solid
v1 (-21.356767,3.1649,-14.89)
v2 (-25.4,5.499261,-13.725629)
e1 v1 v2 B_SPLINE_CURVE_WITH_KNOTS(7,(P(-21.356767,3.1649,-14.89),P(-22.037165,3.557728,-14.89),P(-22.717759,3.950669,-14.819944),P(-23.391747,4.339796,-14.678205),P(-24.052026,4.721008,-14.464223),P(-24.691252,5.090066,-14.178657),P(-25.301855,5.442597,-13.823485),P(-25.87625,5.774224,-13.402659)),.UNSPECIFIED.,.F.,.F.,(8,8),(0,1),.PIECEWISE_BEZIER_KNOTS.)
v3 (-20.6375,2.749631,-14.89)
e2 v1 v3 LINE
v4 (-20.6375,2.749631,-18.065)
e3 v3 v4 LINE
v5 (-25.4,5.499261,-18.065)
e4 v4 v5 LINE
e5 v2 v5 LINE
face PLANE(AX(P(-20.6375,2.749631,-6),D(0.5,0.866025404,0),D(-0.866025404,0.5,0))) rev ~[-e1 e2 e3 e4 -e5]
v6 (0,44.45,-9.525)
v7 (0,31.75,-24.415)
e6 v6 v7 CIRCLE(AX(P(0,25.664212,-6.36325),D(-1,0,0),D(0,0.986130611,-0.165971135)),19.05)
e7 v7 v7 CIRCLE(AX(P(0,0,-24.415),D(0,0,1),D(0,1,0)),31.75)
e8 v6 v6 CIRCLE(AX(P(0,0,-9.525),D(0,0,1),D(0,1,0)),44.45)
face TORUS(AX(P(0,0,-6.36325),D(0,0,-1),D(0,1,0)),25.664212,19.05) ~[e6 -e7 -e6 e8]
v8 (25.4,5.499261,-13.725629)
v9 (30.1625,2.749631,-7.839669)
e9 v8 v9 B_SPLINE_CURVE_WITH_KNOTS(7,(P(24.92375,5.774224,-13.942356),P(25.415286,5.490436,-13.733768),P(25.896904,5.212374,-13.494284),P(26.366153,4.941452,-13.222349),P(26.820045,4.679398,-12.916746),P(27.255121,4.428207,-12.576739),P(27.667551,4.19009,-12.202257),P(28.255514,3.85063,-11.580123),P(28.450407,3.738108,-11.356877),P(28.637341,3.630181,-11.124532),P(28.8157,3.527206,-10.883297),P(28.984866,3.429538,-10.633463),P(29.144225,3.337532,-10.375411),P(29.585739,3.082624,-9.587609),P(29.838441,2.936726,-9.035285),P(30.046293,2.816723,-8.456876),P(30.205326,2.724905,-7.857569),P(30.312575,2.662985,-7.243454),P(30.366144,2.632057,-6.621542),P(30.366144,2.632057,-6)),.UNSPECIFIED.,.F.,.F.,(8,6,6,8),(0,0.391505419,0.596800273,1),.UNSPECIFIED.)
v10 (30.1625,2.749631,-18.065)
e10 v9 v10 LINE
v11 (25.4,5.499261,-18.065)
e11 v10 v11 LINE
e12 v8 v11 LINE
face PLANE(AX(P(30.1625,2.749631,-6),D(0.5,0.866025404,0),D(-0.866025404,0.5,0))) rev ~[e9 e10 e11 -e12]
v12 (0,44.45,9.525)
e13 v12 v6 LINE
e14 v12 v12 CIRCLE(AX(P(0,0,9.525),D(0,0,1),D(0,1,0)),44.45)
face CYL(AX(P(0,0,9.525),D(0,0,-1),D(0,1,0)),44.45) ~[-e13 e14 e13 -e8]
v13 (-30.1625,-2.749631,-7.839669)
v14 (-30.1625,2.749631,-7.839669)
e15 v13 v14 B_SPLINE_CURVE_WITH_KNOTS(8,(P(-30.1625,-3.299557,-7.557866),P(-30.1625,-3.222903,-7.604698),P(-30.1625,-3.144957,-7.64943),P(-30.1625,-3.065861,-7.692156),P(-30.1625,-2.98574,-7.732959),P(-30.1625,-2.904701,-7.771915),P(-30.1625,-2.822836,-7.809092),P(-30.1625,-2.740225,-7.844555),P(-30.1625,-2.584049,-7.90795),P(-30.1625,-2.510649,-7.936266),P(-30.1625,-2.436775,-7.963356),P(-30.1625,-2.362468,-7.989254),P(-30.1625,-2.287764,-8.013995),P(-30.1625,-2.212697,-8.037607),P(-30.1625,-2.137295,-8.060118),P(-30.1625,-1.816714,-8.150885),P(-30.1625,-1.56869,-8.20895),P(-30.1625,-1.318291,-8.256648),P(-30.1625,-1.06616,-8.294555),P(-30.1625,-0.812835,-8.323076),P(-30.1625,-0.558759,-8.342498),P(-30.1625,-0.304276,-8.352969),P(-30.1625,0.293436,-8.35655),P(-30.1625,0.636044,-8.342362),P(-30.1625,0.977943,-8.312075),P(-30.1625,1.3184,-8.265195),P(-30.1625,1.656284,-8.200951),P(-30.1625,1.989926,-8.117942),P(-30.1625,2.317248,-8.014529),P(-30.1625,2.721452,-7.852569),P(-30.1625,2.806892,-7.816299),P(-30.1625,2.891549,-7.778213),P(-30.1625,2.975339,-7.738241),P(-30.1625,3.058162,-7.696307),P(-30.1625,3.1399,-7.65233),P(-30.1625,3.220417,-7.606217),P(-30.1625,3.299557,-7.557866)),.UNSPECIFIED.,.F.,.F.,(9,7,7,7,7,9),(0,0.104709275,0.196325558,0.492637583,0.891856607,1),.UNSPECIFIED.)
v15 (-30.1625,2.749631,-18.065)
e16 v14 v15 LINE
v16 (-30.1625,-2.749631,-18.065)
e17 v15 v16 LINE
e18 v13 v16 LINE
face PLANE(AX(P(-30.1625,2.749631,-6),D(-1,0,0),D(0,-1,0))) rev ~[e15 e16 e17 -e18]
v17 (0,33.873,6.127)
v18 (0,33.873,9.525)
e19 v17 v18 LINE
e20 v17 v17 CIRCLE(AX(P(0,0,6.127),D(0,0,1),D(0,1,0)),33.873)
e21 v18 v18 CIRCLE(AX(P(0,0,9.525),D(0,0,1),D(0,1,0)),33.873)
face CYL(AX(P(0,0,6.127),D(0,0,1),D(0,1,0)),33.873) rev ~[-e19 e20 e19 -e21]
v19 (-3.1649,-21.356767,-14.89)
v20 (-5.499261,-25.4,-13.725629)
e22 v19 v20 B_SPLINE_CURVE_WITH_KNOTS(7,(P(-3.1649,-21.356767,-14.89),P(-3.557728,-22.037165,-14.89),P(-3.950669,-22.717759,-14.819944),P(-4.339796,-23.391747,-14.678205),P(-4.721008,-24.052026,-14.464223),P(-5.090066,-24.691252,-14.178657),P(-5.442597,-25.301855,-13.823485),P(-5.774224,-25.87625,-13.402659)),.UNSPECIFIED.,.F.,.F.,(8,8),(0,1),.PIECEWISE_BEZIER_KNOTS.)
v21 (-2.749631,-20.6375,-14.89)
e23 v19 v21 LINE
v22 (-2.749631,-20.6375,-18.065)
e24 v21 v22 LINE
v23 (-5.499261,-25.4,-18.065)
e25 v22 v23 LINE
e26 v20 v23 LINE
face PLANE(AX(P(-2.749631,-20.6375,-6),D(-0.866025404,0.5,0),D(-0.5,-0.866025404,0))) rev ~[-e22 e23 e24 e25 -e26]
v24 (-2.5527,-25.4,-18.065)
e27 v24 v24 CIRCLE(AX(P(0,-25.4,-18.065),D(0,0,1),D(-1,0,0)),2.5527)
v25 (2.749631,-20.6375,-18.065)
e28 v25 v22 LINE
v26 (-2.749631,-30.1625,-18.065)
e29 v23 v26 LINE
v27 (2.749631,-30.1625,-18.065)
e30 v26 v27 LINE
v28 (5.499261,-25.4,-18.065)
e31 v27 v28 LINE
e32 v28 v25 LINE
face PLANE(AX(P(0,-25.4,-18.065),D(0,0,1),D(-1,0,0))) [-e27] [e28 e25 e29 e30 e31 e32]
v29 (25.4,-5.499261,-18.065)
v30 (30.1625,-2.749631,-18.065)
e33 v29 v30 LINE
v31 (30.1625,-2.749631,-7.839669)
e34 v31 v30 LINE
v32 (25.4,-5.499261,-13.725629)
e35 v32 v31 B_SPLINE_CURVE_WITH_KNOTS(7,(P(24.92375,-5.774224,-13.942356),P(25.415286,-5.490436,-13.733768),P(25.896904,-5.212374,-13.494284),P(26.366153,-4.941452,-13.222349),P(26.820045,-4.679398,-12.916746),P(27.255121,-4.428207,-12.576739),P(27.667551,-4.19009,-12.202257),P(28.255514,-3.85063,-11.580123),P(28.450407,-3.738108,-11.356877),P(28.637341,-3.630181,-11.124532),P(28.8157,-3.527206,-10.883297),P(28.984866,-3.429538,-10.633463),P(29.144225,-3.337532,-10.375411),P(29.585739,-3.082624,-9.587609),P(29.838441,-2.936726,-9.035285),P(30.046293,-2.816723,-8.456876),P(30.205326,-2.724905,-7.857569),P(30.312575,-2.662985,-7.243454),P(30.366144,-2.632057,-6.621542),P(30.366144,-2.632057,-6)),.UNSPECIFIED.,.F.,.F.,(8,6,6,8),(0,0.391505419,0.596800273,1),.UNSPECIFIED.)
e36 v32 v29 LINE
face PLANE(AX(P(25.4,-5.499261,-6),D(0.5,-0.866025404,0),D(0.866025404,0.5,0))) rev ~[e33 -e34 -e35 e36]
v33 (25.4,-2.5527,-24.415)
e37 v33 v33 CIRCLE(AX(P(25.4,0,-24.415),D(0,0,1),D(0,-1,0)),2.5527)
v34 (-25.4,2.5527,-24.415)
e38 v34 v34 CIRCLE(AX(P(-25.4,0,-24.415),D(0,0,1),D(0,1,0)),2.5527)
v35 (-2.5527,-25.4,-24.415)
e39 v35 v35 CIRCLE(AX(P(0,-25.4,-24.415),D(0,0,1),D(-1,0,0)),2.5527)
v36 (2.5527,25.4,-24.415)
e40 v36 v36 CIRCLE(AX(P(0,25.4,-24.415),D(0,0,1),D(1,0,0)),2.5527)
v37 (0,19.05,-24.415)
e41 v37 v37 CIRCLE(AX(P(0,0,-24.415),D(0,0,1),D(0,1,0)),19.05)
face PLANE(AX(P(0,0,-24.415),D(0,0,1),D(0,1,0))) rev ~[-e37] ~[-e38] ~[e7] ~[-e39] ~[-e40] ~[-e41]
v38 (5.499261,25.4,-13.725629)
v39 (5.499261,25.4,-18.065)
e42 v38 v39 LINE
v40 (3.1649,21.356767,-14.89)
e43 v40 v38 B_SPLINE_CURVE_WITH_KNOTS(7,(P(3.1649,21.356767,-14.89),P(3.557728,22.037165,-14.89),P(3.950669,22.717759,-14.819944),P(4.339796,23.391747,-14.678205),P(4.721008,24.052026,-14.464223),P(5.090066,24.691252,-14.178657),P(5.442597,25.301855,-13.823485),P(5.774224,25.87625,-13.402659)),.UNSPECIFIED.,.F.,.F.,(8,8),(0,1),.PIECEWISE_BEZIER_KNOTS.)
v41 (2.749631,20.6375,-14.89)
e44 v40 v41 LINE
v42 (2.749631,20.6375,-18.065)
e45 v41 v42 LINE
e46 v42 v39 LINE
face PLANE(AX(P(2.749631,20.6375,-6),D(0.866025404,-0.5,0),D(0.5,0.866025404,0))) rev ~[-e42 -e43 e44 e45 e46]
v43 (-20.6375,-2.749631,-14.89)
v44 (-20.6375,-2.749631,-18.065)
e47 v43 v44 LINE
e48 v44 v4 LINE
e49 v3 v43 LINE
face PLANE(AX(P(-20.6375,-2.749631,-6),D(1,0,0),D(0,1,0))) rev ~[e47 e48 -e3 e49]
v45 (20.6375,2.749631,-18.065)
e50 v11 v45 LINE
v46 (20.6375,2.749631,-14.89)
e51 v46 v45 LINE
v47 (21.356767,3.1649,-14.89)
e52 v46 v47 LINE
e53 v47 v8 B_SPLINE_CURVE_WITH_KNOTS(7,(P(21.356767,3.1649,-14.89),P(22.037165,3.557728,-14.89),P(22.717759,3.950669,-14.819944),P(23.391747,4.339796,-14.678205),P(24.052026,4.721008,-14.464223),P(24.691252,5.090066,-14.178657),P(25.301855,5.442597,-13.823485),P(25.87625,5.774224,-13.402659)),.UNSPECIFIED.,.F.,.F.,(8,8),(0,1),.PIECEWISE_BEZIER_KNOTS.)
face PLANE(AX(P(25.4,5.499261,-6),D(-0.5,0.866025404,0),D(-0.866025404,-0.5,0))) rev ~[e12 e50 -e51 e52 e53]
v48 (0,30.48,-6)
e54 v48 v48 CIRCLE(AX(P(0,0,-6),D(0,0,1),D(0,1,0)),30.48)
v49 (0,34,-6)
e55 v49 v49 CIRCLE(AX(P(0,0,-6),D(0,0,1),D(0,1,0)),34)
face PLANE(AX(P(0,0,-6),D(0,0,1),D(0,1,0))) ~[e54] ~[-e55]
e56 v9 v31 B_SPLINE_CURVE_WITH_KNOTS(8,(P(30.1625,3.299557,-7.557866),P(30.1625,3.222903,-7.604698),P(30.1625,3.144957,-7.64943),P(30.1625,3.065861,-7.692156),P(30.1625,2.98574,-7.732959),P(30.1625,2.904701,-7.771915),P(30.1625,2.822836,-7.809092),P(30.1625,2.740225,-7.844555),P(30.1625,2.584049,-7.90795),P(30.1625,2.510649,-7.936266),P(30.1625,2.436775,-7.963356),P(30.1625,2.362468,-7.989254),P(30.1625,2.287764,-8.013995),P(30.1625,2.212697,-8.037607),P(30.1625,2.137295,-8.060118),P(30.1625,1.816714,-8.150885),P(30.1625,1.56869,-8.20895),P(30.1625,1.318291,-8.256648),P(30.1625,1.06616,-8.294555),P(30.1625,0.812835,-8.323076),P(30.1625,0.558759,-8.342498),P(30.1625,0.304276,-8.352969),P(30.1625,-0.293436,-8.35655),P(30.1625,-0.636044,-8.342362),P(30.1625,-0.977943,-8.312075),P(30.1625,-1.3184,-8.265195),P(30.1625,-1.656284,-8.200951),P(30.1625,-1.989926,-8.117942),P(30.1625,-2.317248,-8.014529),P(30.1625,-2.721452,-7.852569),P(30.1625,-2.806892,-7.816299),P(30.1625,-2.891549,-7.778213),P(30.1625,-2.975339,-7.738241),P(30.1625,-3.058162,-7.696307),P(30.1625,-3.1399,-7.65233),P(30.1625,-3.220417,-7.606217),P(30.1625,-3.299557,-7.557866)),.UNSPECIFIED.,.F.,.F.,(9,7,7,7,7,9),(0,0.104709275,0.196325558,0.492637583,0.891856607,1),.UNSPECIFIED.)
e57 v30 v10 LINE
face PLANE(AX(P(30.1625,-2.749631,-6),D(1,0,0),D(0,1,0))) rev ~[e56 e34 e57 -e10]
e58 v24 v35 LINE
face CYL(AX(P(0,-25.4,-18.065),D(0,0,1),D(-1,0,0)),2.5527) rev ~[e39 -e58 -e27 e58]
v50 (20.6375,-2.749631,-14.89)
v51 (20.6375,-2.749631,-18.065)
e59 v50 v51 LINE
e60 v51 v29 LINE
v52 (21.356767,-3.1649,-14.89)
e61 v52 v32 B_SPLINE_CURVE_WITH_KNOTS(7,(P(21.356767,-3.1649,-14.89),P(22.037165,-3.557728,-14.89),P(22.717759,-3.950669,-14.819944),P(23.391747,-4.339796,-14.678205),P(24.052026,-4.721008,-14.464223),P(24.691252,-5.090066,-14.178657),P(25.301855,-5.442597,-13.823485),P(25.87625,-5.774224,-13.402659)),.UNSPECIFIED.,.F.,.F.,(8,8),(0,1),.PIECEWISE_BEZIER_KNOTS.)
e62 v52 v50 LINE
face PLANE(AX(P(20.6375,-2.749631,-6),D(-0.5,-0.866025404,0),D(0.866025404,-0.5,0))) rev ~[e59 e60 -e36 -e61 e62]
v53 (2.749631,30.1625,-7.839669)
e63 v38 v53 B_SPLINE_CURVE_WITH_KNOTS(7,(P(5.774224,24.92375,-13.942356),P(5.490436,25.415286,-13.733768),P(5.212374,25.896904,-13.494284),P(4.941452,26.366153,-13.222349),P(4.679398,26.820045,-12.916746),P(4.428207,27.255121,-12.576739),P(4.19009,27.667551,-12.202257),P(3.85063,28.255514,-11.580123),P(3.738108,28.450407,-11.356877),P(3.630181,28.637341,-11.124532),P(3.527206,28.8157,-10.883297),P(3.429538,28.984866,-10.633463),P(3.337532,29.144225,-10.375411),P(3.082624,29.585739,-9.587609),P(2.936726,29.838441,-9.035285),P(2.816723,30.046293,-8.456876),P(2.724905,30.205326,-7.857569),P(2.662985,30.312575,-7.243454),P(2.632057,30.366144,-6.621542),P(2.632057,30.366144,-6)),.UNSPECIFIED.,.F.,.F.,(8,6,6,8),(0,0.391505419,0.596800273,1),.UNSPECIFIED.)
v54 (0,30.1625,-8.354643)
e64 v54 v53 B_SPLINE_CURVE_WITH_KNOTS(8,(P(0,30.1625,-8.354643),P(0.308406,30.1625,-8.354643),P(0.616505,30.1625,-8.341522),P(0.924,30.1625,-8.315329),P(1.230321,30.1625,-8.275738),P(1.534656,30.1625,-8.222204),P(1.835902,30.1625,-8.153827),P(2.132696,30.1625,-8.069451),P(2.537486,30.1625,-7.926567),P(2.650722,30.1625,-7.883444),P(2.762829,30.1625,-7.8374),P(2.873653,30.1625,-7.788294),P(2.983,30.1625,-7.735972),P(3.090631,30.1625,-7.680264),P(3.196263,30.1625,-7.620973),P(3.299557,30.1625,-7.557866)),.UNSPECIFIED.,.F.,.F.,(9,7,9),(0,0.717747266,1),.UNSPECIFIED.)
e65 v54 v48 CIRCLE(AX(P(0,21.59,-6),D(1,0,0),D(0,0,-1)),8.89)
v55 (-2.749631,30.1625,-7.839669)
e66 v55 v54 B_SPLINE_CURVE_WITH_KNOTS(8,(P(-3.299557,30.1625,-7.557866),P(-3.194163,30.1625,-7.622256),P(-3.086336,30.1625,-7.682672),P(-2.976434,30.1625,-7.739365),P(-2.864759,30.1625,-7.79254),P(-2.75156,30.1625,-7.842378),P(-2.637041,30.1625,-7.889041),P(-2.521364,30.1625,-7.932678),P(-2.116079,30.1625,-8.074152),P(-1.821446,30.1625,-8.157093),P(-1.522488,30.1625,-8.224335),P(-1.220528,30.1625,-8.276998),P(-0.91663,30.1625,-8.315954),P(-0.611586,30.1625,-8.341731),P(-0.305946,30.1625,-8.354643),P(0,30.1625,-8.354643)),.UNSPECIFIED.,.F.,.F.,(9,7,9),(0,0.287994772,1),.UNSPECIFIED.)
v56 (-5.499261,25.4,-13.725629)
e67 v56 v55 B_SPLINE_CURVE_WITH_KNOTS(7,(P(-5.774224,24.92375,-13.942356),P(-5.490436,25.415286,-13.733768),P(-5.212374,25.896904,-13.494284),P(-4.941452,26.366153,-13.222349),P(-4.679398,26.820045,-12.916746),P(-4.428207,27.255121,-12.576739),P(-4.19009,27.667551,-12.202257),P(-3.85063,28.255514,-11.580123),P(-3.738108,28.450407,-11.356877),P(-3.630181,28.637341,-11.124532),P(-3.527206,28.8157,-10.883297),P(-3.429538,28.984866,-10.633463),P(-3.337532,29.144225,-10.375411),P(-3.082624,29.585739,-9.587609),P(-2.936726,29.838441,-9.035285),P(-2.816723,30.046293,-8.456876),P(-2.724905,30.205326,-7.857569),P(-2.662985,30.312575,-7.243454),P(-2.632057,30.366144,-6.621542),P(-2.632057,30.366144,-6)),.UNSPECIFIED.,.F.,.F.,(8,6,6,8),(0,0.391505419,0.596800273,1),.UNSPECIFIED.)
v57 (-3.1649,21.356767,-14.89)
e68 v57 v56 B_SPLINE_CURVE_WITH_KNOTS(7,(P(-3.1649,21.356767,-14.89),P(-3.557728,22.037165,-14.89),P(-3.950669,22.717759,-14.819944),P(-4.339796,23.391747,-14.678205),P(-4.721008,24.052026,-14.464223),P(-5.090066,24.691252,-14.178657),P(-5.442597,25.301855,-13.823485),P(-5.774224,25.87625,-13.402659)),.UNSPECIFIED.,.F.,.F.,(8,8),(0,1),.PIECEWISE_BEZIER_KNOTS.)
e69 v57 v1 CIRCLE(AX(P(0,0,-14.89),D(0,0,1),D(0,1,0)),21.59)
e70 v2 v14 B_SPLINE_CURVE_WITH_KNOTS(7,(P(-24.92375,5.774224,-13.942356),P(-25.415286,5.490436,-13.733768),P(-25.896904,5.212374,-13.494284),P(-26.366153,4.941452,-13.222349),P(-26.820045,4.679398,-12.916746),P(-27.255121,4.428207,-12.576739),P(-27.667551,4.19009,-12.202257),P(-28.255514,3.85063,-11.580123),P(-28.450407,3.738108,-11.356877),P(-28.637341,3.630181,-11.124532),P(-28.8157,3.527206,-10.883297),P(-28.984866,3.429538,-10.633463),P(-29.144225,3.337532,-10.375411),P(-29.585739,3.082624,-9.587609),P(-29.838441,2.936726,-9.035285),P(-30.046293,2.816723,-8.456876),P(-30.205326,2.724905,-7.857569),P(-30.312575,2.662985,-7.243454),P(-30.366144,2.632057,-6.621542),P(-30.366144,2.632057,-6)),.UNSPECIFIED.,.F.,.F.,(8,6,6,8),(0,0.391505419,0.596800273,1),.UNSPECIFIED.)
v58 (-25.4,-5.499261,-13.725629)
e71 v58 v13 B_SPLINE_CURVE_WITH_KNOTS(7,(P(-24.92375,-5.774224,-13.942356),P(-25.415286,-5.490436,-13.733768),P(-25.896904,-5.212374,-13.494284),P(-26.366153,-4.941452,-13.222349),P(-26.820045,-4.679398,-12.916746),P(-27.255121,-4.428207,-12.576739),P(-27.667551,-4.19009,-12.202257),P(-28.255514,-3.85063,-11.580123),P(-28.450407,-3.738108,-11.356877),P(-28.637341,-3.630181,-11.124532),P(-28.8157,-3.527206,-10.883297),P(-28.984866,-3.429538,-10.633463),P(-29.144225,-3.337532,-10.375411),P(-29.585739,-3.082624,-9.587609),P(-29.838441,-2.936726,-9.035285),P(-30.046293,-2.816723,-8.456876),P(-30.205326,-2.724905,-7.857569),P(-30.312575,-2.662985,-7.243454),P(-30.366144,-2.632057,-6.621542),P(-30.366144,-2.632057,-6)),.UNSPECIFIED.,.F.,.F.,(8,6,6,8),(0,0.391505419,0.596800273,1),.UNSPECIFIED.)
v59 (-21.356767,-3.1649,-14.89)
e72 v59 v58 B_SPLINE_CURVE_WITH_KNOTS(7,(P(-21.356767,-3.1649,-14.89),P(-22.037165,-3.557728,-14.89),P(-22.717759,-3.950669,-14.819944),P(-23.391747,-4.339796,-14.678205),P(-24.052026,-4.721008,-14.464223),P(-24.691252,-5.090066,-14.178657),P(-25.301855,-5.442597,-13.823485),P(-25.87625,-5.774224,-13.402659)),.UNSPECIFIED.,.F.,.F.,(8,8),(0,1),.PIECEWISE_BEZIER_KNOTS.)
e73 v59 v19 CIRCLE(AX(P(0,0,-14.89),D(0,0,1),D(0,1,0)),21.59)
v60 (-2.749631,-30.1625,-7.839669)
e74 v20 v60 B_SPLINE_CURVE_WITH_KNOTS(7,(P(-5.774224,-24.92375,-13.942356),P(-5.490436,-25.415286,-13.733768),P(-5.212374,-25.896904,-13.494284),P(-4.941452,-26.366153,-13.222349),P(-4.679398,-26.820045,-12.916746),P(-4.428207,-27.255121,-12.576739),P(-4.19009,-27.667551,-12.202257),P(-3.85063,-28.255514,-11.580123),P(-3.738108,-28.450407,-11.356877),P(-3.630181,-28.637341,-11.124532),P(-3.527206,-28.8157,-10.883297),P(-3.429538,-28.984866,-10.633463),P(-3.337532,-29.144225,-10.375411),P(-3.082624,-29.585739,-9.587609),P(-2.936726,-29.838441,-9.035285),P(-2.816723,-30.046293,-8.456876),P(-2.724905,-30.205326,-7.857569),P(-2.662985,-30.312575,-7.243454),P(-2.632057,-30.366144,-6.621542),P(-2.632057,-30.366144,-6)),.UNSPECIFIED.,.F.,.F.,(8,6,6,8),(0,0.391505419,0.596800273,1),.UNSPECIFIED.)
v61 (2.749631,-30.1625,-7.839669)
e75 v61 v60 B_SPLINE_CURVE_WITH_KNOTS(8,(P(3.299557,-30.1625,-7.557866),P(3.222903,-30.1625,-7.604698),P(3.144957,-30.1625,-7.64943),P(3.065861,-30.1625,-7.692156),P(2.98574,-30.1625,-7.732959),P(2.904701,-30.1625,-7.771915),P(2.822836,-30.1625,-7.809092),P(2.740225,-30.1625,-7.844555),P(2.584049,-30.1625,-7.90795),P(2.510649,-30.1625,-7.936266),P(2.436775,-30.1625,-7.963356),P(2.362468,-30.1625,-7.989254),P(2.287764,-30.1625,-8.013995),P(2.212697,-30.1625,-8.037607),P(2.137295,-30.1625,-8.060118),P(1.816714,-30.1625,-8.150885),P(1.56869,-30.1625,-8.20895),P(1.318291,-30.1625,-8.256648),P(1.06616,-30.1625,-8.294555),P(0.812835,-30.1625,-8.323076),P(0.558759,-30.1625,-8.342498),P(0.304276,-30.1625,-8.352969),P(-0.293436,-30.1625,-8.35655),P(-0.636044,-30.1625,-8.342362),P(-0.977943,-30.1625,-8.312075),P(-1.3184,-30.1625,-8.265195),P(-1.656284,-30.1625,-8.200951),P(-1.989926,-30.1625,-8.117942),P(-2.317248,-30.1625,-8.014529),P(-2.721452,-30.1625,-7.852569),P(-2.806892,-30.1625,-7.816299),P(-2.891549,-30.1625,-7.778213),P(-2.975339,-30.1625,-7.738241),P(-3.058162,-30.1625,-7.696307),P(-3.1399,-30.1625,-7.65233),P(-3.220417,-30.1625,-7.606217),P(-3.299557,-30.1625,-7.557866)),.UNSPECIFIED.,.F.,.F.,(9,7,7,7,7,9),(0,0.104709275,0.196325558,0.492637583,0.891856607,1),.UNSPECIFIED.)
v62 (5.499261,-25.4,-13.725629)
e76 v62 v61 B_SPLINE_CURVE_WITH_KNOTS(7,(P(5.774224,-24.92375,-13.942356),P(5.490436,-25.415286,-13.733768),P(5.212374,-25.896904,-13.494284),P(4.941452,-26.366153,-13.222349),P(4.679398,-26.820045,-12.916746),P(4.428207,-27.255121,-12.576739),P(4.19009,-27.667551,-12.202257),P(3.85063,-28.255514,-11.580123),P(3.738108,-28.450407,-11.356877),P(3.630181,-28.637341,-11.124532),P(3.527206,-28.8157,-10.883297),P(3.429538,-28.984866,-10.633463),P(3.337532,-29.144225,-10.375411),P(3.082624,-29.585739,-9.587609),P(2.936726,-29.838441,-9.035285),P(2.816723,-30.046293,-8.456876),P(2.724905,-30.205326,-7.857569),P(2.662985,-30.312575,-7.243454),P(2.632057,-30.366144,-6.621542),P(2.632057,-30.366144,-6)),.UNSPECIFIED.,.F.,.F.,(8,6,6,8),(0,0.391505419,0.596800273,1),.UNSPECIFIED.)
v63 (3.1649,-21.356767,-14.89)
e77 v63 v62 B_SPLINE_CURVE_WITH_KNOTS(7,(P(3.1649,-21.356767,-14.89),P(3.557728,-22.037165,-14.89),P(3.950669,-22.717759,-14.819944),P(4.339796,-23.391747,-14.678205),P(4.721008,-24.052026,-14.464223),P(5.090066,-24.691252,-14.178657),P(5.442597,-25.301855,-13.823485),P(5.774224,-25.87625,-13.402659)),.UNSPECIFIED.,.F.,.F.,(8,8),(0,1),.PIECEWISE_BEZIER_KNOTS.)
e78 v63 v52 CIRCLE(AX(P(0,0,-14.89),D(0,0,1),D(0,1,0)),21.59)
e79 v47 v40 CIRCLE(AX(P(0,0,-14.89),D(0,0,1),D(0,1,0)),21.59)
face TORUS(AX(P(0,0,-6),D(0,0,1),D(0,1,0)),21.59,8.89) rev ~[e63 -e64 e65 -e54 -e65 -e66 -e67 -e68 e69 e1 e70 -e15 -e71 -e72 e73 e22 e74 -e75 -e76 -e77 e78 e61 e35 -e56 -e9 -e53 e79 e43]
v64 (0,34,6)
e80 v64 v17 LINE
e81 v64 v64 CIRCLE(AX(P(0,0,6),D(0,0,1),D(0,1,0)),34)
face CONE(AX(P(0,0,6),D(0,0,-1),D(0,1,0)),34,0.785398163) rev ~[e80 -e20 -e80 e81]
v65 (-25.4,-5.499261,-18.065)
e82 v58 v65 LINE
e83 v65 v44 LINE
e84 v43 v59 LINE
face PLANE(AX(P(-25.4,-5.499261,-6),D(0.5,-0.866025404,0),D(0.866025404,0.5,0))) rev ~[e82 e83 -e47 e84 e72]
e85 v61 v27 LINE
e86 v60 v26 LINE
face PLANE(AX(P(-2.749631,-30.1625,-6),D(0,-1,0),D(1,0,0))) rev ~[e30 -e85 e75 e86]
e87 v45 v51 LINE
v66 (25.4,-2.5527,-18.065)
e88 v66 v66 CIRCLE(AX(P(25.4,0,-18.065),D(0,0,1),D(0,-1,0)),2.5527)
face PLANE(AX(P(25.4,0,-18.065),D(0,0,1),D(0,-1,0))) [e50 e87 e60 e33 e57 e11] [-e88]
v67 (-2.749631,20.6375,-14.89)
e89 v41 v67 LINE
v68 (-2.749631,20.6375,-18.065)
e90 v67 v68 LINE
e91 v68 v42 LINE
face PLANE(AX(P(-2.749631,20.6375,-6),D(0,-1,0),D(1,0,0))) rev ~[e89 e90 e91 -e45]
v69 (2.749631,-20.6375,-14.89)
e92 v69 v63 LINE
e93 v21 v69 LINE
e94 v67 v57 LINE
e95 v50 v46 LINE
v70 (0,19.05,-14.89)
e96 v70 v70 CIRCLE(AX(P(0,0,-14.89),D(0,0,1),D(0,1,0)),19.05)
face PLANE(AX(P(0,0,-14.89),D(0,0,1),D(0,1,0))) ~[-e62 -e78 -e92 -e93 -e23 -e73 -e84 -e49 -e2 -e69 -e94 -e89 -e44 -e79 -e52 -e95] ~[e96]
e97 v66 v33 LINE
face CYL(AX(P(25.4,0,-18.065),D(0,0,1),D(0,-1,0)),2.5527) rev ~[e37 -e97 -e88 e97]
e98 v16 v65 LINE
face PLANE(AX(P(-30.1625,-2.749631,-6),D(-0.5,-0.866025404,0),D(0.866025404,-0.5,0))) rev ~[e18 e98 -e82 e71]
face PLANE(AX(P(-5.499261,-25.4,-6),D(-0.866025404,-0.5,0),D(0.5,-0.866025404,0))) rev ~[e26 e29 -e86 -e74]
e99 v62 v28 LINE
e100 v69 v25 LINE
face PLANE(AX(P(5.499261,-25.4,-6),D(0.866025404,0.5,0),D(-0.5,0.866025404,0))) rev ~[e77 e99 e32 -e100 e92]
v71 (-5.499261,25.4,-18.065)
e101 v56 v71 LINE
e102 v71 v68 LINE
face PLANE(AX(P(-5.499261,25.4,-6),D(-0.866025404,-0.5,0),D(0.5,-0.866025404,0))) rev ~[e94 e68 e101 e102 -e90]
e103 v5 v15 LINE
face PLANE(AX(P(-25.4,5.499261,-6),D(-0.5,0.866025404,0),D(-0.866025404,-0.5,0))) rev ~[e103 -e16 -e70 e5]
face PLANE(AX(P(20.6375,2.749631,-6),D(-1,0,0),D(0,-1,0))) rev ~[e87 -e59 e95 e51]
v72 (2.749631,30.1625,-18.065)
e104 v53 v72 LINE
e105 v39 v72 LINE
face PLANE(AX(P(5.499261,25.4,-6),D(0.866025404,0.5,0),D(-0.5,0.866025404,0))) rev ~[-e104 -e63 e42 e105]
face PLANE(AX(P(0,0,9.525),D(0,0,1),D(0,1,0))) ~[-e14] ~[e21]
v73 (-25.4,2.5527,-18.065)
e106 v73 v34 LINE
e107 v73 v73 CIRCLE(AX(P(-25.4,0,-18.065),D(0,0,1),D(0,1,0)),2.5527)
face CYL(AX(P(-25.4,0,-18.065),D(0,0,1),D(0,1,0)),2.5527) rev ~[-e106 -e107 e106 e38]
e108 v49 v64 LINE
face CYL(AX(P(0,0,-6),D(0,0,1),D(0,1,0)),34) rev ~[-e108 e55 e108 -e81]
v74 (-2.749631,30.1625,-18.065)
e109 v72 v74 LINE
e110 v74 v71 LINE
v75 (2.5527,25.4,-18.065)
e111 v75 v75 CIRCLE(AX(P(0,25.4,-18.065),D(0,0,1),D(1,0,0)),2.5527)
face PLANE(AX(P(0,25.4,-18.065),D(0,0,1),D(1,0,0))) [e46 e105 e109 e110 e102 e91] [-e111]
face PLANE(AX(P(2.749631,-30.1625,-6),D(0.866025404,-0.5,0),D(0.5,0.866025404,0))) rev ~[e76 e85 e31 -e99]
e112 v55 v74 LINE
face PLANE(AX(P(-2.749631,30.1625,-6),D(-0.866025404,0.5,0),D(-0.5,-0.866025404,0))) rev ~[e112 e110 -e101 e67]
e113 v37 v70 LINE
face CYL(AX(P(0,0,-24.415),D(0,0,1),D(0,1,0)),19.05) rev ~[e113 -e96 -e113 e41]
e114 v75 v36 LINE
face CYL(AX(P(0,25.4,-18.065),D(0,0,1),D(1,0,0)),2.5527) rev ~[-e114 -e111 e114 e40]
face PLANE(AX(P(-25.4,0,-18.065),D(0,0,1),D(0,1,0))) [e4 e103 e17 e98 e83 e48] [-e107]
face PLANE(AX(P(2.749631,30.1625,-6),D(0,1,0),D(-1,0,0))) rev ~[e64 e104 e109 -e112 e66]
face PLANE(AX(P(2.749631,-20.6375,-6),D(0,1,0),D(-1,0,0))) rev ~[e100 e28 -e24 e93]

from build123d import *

# Parameters (mm, degrees)
CUT_EXTRUDE1_DEPTH = 12.065
SKETCH4_R          = 2.5527
CUT_EXTRUDE2_DEPTH = 7.35
CIRPATTERN1_COUNT  = 4


with BuildPart() as part:
    # Sketch2 → Revolve1 (revolve)
    with BuildSketch(Plane(origin=(0, 0, 0), x_dir=(0, 0, -1), z_dir=(1, 0, 0))):
        with BuildLine():
            Line((6, 34), (-6, 34))
            Line((-6, 34), (-6.127, 33.873))
            Line((-6.127, 33.873), (-9.525, 33.873))
            Line((-9.525, 33.873), (-9.525, 44.45))
            Line((-9.525, 44.45), (9.525, 44.45))
            ThreePointArc((9.525, 44.45), (18.725516989, 40.158239998), (24.415, 31.75))
            Line((24.415, 31.75), (24.415, 19.05))
            Line((24.415, 19.05), (14.89, 19.05))
            Line((14.89, 19.05), (14.89, 21.59))
            ThreePointArc((14.89, 21.59), (12.286179285, 27.876179285), (6, 30.48))
            Line((6, 30.48), (6, 34))
        make_face()
    revolve(axis=Axis((0, 0, 0), (0, 0, 1)))

    # Sketch3 → Cut-Extrude1 (cut)
    with BuildSketch(Plane.XY.offset(-6)):
        Polygon((5.499261314, 25.4), (2.749630657, 30.1625), (-2.749630657, 30.1625), (-5.499261314, 25.4), (-2.749630657, 20.6375), (2.749630657, 20.6375), align=None)
    cut_extrude1 = extrude(amount=-CUT_EXTRUDE1_DEPTH, mode=Mode.SUBTRACT)

    # Sketch4 → Cut-Extrude2 (cut, through all)
    with BuildSketch(Plane.XY.offset(-18.065)):
        with Locations((0, 25.4)):
            Circle(SKETCH4_R)
    cut_extrude2 = extrude(amount=-CUT_EXTRUDE2_DEPTH, mode=Mode.SUBTRACT)

    # CirPattern1: Cut-Extrude1, Cut-Extrude2 ×4 about axis
    cirpattern1_axis = Axis((0, 0, 0), (0, 0, 1))
    for i in range(1, CIRPATTERN1_COUNT):
        add(cut_extrude1.rotate(cirpattern1_axis, i * 360 / CIRPATTERN1_COUNT), mode=Mode.SUBTRACT)
        add(cut_extrude2.rotate(cirpattern1_axis, i * 360 / CIRPATTERN1_COUNT), mode=Mode.SUBTRACT)


solid = part.part
